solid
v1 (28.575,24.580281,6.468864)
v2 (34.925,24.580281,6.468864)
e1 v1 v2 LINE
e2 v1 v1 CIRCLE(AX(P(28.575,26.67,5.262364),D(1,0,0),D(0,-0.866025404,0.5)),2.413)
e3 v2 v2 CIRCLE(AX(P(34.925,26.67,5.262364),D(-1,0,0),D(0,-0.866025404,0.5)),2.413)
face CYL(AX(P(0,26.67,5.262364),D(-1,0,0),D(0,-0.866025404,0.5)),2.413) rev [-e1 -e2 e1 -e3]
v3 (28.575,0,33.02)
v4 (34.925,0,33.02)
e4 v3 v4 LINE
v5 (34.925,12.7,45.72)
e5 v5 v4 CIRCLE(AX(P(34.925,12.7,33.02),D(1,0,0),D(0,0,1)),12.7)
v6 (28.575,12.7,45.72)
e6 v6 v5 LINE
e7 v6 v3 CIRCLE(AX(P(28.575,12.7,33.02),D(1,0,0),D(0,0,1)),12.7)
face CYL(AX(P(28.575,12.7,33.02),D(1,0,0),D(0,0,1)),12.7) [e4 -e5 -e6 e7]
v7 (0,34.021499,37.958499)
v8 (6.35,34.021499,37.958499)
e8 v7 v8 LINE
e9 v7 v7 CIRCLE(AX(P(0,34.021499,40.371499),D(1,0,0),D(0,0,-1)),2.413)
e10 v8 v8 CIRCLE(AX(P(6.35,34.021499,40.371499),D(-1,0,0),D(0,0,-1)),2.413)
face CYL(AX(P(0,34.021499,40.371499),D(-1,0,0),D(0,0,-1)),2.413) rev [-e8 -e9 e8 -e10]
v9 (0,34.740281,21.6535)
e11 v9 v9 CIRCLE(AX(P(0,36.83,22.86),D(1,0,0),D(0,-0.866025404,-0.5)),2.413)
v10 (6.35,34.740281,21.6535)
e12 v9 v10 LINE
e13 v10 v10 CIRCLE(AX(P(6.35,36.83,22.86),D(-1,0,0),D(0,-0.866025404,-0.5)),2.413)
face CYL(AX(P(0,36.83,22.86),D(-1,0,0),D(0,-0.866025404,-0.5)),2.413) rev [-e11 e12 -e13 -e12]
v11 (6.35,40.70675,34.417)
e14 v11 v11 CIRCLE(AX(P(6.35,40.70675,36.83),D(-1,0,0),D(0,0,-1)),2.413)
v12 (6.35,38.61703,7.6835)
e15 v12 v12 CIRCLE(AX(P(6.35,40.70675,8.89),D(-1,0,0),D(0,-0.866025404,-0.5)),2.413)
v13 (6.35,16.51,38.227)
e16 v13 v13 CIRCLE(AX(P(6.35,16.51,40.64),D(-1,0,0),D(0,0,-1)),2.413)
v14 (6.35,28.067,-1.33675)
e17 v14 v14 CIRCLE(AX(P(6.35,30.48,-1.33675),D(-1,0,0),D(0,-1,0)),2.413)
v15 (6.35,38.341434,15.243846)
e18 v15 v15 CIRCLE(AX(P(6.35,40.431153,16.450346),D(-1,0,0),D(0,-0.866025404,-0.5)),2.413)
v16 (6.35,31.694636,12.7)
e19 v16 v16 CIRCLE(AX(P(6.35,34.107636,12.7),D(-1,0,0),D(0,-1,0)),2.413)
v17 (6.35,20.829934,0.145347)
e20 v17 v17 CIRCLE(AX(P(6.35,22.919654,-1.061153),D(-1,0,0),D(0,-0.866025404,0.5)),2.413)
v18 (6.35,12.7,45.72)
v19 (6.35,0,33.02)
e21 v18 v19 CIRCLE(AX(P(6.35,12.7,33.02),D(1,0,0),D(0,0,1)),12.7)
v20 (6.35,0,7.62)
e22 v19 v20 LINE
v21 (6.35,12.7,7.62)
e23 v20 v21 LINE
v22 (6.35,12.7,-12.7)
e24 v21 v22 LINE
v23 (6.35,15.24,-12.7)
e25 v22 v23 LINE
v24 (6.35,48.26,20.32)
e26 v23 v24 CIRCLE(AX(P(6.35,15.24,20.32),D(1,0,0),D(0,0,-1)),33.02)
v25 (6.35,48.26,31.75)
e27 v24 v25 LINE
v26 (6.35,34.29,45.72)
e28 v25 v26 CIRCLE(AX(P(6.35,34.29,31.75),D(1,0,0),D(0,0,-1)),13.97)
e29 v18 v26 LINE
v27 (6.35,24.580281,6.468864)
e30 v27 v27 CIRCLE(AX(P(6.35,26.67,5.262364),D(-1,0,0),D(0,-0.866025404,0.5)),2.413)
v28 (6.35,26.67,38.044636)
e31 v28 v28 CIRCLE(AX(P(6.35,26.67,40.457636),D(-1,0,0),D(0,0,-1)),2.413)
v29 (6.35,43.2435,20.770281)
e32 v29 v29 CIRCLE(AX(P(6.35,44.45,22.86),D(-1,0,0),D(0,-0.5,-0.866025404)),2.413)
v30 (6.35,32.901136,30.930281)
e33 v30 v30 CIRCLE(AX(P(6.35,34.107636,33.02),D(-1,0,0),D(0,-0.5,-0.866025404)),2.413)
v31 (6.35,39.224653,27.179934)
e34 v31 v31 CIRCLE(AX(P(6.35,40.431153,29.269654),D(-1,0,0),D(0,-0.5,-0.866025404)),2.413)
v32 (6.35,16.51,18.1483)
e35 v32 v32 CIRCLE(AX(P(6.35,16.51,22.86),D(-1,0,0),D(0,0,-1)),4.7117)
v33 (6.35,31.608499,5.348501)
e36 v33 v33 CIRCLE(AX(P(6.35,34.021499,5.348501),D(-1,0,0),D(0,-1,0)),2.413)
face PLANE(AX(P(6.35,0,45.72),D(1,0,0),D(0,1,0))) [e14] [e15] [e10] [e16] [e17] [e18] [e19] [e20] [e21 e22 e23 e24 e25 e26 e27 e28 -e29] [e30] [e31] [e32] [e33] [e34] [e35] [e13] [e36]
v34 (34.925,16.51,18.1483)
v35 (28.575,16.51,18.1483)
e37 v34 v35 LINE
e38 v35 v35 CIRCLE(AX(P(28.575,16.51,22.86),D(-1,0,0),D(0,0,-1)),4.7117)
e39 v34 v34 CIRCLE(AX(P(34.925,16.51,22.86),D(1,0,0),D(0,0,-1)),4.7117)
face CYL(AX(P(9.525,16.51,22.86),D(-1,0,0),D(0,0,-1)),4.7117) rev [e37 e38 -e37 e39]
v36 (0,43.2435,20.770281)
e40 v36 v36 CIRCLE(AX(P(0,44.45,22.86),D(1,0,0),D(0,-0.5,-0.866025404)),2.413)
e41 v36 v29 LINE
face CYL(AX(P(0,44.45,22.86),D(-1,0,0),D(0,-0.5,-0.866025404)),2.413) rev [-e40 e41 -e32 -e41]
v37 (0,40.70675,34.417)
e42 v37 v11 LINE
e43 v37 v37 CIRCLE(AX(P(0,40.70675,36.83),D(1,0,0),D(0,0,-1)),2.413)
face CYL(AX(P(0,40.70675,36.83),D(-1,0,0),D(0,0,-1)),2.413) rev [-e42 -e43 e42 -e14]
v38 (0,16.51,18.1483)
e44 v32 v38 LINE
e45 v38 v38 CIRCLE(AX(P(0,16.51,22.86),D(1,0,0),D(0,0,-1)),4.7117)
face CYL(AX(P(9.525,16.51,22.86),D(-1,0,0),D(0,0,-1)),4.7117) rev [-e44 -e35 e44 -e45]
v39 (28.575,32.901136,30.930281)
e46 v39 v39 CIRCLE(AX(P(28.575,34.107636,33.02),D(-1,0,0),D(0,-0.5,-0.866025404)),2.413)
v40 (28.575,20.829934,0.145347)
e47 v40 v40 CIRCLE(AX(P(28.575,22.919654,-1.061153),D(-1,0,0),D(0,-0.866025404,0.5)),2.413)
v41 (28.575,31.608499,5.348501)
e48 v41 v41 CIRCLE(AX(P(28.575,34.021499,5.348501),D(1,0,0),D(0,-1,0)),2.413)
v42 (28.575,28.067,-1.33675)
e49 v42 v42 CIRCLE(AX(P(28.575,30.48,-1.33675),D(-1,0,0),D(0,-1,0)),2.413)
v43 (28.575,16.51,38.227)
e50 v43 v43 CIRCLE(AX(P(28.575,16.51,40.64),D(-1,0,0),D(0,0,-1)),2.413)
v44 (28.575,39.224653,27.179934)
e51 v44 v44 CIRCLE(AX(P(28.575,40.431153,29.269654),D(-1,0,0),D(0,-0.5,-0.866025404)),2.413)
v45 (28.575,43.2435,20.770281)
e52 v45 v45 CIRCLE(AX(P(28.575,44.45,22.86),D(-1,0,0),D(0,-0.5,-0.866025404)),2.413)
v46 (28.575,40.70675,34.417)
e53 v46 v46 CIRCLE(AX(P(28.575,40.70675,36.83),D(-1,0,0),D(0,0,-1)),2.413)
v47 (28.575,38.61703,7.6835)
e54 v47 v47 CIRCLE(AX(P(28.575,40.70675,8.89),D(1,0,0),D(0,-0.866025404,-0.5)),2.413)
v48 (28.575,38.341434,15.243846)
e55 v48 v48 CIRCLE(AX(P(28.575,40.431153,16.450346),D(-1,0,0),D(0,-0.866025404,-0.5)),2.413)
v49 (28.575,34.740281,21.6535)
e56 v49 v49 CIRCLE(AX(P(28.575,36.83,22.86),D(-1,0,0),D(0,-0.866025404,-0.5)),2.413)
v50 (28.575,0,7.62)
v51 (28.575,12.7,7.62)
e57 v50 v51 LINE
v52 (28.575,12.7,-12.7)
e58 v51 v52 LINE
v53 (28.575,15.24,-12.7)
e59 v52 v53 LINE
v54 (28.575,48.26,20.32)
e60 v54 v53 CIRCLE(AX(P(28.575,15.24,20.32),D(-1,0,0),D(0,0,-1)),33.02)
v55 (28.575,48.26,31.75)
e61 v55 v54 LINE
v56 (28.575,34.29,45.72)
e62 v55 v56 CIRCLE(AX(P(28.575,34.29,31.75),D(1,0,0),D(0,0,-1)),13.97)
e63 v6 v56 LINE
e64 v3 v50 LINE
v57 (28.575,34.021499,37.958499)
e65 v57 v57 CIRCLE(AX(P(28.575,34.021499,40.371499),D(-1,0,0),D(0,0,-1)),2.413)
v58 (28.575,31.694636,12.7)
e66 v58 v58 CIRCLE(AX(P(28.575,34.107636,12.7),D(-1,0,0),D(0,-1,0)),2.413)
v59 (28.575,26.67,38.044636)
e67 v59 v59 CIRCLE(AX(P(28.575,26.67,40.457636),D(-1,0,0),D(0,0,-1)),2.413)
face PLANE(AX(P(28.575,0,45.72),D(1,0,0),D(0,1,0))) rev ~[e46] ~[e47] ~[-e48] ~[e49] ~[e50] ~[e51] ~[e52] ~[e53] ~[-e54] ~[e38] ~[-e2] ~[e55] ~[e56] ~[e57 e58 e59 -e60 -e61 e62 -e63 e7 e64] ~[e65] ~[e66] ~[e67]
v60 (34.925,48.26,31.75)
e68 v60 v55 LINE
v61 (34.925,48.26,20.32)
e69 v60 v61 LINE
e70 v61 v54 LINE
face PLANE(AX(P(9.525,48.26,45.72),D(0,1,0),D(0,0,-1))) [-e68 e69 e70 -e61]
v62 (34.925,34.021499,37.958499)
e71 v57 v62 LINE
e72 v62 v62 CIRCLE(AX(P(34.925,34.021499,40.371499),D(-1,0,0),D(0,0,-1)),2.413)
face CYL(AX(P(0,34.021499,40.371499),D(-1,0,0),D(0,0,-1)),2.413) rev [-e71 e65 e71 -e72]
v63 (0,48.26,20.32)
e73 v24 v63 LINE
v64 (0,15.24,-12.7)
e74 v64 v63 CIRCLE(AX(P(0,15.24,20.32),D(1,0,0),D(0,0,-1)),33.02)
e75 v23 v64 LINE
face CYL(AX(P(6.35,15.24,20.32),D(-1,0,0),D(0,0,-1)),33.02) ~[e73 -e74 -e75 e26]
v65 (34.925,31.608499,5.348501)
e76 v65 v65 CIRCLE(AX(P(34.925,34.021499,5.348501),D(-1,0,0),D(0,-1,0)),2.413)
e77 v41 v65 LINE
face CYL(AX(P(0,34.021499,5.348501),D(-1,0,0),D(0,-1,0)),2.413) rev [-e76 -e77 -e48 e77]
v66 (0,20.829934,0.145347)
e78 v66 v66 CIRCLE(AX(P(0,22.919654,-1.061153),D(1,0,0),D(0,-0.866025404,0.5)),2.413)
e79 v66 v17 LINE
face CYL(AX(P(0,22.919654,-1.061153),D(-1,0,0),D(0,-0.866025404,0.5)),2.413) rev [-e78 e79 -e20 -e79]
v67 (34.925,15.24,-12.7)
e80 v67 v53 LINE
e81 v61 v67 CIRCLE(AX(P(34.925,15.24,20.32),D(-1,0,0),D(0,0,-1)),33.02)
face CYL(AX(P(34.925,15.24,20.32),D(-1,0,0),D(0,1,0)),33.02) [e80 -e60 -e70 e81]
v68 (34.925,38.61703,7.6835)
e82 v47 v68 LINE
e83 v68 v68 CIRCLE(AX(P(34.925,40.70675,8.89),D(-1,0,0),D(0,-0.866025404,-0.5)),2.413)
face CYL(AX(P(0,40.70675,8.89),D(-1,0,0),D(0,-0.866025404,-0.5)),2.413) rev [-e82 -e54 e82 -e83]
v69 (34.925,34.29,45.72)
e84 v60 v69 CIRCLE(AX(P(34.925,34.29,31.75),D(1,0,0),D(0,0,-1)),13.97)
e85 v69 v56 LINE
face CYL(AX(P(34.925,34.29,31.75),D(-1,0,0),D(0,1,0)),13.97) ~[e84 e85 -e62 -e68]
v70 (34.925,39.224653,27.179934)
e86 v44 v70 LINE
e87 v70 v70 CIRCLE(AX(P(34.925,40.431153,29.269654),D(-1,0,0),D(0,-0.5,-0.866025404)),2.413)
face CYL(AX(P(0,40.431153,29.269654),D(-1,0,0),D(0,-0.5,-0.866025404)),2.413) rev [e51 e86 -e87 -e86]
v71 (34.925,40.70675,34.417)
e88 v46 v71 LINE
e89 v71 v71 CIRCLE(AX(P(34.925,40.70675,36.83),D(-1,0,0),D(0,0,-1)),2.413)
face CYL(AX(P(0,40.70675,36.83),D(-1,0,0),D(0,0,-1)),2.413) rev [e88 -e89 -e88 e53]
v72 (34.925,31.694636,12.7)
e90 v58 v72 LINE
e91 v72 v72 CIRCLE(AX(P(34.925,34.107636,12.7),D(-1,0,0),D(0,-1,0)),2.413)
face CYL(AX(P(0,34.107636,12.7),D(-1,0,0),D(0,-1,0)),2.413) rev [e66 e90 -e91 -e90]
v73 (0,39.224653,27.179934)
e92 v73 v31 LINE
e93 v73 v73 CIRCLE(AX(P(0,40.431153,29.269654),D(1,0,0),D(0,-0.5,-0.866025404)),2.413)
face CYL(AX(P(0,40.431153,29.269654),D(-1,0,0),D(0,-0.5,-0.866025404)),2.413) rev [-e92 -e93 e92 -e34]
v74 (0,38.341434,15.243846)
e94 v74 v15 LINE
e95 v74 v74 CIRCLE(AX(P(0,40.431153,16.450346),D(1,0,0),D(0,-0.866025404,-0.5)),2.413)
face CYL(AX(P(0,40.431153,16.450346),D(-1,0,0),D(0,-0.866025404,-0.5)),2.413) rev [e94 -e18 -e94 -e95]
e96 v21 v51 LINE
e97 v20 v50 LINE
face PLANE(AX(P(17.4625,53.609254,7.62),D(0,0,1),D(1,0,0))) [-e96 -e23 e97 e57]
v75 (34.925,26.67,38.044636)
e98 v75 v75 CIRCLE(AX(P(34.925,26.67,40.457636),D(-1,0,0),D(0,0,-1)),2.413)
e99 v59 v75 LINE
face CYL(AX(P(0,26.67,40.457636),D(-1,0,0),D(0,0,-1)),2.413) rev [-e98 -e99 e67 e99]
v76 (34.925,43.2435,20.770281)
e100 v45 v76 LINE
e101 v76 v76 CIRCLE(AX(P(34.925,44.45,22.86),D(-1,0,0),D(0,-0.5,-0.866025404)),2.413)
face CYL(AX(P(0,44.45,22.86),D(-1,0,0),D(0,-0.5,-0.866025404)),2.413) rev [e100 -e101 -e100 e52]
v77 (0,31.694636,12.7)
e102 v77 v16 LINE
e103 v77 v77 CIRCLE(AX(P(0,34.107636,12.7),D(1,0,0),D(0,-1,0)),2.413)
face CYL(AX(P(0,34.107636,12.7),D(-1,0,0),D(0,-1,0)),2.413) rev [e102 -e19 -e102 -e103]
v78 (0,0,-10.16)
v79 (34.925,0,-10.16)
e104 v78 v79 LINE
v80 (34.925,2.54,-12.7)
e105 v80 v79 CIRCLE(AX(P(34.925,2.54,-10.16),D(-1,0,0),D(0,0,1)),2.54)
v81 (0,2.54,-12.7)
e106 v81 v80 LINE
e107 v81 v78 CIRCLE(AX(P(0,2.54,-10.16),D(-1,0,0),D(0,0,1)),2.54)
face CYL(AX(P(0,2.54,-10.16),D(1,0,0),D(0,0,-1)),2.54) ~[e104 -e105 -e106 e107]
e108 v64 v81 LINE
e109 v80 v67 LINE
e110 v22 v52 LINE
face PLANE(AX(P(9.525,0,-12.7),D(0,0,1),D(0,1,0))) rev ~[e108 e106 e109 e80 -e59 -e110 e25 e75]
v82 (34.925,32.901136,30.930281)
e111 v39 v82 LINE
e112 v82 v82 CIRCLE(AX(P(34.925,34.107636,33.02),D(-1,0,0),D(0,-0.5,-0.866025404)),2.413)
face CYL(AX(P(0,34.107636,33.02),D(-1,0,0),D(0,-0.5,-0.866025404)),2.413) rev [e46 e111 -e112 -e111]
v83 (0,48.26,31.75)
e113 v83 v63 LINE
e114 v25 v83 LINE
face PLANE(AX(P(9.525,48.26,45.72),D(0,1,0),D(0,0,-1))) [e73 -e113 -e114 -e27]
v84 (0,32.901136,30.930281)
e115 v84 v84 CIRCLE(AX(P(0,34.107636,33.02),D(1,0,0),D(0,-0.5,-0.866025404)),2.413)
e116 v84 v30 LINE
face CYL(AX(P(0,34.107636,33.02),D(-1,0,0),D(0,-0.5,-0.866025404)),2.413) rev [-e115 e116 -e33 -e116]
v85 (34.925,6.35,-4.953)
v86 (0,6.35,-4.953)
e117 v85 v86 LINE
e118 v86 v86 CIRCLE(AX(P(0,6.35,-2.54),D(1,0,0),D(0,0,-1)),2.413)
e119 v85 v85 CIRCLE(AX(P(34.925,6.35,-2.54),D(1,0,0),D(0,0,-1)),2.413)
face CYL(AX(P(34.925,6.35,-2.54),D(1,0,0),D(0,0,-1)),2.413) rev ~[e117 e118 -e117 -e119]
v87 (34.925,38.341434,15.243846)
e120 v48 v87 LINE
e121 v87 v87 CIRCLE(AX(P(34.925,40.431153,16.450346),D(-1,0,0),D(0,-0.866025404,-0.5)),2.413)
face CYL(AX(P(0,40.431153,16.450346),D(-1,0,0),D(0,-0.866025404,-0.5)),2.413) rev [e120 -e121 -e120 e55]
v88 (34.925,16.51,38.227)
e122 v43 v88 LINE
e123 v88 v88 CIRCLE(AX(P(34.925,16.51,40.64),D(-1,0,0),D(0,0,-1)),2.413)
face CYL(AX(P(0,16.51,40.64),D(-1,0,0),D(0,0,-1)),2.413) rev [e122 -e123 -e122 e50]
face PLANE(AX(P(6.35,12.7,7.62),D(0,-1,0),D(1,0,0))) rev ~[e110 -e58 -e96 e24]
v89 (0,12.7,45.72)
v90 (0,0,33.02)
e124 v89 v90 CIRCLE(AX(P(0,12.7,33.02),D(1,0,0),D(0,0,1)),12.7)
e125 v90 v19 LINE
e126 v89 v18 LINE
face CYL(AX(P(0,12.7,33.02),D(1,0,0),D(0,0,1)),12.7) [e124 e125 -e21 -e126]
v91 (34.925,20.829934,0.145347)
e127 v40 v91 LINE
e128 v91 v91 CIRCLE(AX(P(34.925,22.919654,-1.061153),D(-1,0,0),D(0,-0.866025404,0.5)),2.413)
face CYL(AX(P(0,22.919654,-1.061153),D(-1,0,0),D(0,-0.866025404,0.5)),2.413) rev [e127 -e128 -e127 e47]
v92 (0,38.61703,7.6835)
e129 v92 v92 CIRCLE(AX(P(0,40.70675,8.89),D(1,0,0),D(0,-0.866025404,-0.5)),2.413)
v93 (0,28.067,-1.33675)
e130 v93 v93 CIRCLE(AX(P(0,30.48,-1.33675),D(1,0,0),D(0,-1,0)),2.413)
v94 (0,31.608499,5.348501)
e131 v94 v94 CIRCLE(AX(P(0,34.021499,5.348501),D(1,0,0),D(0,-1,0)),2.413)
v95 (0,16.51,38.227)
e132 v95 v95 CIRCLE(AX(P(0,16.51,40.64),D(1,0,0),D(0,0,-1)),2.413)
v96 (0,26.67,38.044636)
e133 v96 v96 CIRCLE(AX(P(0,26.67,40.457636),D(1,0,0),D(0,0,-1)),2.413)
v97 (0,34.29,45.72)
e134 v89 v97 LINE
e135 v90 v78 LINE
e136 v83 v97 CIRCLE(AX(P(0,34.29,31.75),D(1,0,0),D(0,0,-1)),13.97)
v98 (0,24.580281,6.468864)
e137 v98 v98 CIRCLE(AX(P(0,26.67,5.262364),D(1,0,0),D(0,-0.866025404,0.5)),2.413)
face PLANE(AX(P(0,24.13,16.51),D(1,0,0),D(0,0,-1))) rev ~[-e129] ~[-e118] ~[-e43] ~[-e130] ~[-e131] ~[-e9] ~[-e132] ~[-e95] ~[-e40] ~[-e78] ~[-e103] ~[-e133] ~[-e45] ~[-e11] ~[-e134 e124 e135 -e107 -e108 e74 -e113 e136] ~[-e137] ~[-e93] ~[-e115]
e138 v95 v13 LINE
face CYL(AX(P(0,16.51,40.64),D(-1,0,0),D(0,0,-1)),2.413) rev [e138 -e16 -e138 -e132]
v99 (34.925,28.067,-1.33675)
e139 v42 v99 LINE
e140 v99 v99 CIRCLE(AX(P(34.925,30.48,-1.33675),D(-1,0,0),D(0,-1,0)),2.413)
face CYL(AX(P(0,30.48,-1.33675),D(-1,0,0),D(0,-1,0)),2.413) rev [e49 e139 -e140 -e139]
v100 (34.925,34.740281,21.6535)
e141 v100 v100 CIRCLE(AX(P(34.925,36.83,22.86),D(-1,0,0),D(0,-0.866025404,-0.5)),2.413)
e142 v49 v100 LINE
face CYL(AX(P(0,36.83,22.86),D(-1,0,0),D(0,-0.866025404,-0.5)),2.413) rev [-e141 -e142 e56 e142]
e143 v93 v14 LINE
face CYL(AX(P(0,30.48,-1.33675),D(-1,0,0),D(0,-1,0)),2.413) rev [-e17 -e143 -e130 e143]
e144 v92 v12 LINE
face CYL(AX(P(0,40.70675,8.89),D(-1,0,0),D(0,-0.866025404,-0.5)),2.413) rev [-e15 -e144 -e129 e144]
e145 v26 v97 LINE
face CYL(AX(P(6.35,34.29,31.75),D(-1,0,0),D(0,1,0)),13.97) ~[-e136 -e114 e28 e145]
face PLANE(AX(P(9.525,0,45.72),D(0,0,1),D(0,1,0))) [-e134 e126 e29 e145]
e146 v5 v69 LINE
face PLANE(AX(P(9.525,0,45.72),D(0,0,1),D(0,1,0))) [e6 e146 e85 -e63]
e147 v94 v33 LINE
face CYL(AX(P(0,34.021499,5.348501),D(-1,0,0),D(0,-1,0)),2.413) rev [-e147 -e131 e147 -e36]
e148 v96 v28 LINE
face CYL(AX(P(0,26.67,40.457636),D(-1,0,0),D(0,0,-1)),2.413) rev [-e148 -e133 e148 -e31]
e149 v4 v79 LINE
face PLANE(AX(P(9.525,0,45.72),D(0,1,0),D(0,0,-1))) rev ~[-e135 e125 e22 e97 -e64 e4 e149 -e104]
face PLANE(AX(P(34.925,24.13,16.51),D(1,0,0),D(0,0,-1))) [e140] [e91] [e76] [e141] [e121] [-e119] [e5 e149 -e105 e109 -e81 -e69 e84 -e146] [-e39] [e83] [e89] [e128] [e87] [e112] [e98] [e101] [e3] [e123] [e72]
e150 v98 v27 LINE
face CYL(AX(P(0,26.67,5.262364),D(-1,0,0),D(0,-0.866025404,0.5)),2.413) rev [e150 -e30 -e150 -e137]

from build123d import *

# Parameters (mm, degrees)
CENTER_MC_BODY_DEPTH           = 9.525
SKETCH2_R                      = 3.9624
CENTER_MC_HOLE_DEPTH           = 9.525
SKETCH3_W                      = 19.05
SKETCH3_H                      = 6.35
SKETCH3_W_2                    = 25.4
CUT_SLOT_DEPTH                 = 9.525
FILLET1_R                      = 12.7
FILLET2_R                      = 12.7
SKETCH12_W                     = 99.695
SKETCH12_H                     = 25.4
CUT_EXTRUDE2_DEPTH             = 10.5250001
BOSS_EXTRUDE1_DEPTH            = 9.525
FILLET3_R                      = 3.175
SKETCH14_W                     = 22.86
SKETCH14_H                     = 27.94
SKETCH14_R                     = 4.7117
BOSS_EXTRUDE2_DEPTH            = 9.525
SKETCH16_W                     = 53.975
SKETCH16_H                     = 15.24
CUT_FOR_THROTTLE_N_BRAKE_DEPTH = 9.525
SKETCH17_W                     = 58.42
SKETCH17_H                     = 48.26
SKETCH17_R                     = 4.7117
BOSS_EXTRUDE3_DEPTH            = 9.525
SKETCH44_W                     = 58.42
SKETCH44_H                     = 48.26
SKETCH44_R                     = 4.7117
BOSS_EXTRUDE4_DEPTH            = 25.4
SKETCH20_R                     = 2.413
CUT_EXTRUDE6_DEPTH             = 35.925
SKETCH21_R                     = 2.413
CUT_EXTRUDE7_DEPTH             = 35.925
CIRPATTERN2_COUNT              = 5
CIRPATTERN2_ANGLE              = 120
SKETCH22_R                     = 2.413
CUT_EXTRUDE10_DEPTH            = 35.925
CIRPATTERN3_COUNT              = 5
CIRPATTERN3_ANGLE              = 120
SKETCH24_R                     = 2.413
CUT_EXTRUDE11_DEPTH            = 35.925
CIRPATTERN4_COUNT              = 4
CIRPATTERN4_ANGLE              = 90
SKETCH48_W                     = 22.225
SKETCH48_H                     = 107.218507126
CUT_EXTRUDE24_DEPTH            = 38.1
SKETCH49_W                     = 22.225
SKETCH49_H                     = 35.56
CUT_EXTRUDE25_DEPTH            = 21.32
FILLET4_R                      = 12.7
FILLET5_R                      = 33.02
FILLET6_R                      = 13.97
SKETCH53_R                     = 2.413
CUT_EXTRUDE29_DEPTH            = 35.925
FILLET7_R                      = 2.54


with BuildPart() as part:
    # Sketch1 → Center MC Body (new body)
    with BuildSketch(Plane(origin=(0, 0, 0), x_dir=(0, 0, -1), z_dir=(1, 0, 0))):
        with BuildLine():
            Line((-12.7, 0), (-12.7, 15.24))
            Line((-12.7, 15.24), (138.43, 15.24))
            Line((138.43, 15.24), (138.43, 16.51))
            ThreePointArc((138.43, 16.51), (147.32, 25.4), (156.21, 16.51))
            Line((156.21, 16.51), (156.21, 0))
            Line((156.21, 0), (-12.7, 0))
        make_face()
    extrude(amount=CENTER_MC_BODY_DEPTH)

    # Sketch2 → Center MC Hole (cut)
    with BuildSketch(Plane(origin=(0, 0, 0), x_dir=(0, 0, -1), z_dir=(1, 0, 0))):
        with Locations((147.32, 16.51)):
            Circle(SKETCH2_R)
    extrude(amount=CENTER_MC_HOLE_DEPTH, mode=Mode.SUBTRACT)

    # Sketch3 → Cut Slot (cut)
    with BuildSketch(Plane(origin=(0, 0, 0), x_dir=(0, 0, -1), z_dir=(1, 0, 0))):
        with Locations((3.175, 12.065)):
            Rectangle(SKETCH3_W, SKETCH3_H)
        with Locations((56.515, 12.065)):
            Rectangle(SKETCH3_W_2, SKETCH3_H)
    extrude(amount=CUT_SLOT_DEPTH, mode=Mode.SUBTRACT)

    # Fillet1
    fillet1_edges = [part.edges().sort_by_distance(p)[0] for p in [
        (4.7625, 0, -156.21),
    ]]
    fillet(fillet1_edges, radius=FILLET1_R)

    # Fillet2
    fillet2_edges = [part.edges().sort_by_distance(p)[0] for p in [
        (4.7625, 15.24, -138.43),
    ]]
    fillet(fillet2_edges, radius=FILLET2_R)

    # Sketch12 → Cut-Extrude2 (cut, through all)
    with BuildSketch(Plane(origin=(0, 0, 0), x_dir=(0, 0, -1), z_dir=(1, 0, 0))):
        with Locations((106.3625, 12.7)):
            Rectangle(SKETCH12_W, SKETCH12_H)
    extrude(amount=CUT_EXTRUDE2_DEPTH, mode=Mode.SUBTRACT)

    # Sketch13 → Boss-Extrude1 (add)
    with BuildSketch(Plane(origin=(0, 0, 0), x_dir=(0, 0, -1), z_dir=(1, 0, 0))):
        Polygon((43.815, 15.24), (50.165, 15.24), (50.165, 8.89), (62.865, 8.89), (62.865, 15.24), (66.675, 15.24), (66.675, 0), (43.815, 0), align=None)
    extrude(amount=BOSS_EXTRUDE1_DEPTH)

    # Fillet3
    fillet3_edges = [part.edges().sort_by_distance(p)[0] for p in [
        (4.7625, 15.24, -66.675),
        (4.7625, 0, -66.675),
    ]]
    fillet(fillet3_edges, radius=FILLET3_R)

    # Sketch14 → Boss-Extrude2 (add)
    with BuildSketch(Plane(origin=(0, 0, 0), x_dir=(0, 0, -1), z_dir=(1, 0, 0))):
        with Locations((-24.13, 13.97)):
            Rectangle(SKETCH14_W, SKETCH14_H)
        with Locations((-22.86, 16.51)):
            Circle(SKETCH14_R, mode=Mode.SUBTRACT)
    extrude(amount=BOSS_EXTRUDE2_DEPTH)

    # Sketch16 → Cut for Throttle n Brake (cut)
    with BuildSketch(Plane(origin=(0, 0, 0), x_dir=(0, 0, -1), z_dir=(1, 0, 0))):
        with Locations((39.6875, 7.62)):
            Rectangle(SKETCH16_W, SKETCH16_H)
    extrude(amount=CUT_FOR_THROTTLE_N_BRAKE_DEPTH, mode=Mode.SUBTRACT)

    # Sketch17 → Boss-Extrude3 (add)
    with BuildSketch(Plane(origin=(0, 0, 0), x_dir=(0, 0, -1), z_dir=(1, 0, 0))):
        with Locations((-16.51, 24.13)):
            Rectangle(SKETCH17_W, SKETCH17_H)
        with Locations((-22.86, 16.51)):
            Circle(SKETCH17_R, mode=Mode.SUBTRACT)
    extrude(amount=BOSS_EXTRUDE3_DEPTH)

    # Sketch44 → Boss-Extrude4 (add)
    with BuildSketch(Plane(origin=(9.525, 0, 0), x_dir=(0, 0, -1), z_dir=(1, 0, 0))):
        with Locations((-16.51, 24.13)):
            Rectangle(SKETCH44_W, SKETCH44_H)
        with Locations((-22.86, 16.51)):
            Circle(SKETCH44_R, mode=Mode.SUBTRACT)
    extrude(amount=BOSS_EXTRUDE4_DEPTH)

    # Sketch20 → Cut-Extrude6 (cut, through all)
    with BuildSketch(Plane(origin=(0, 0, 0), x_dir=(0, 0, -1), z_dir=(1, 0, 0))):
        with Locations((-40.64, 16.51)):
            Circle(SKETCH20_R)
    extrude(amount=CUT_EXTRUDE6_DEPTH, mode=Mode.SUBTRACT)

    # Sketch21 → Cut-Extrude7 (cut, through all)
    with BuildSketch(Plane(origin=(0, 0, 0), x_dir=(0, 0, -1), z_dir=(1, 0, 0))):
        with Locations((-40.457636205, 26.67)):
            Circle(SKETCH21_R)
    cut_extrude7 = extrude(amount=CUT_EXTRUDE7_DEPTH, mode=Mode.SUBTRACT)

    # CirPattern2: Cut-Extrude7 ×5 about axis
    cirpattern2_axis = Axis((0, 16.51, 22.86), (-1, 0, 0))
    for i in range(1, CIRPATTERN2_COUNT):
        add(cut_extrude7.rotate(cirpattern2_axis, i * CIRPATTERN2_ANGLE / (CIRPATTERN2_COUNT - 1)), mode=Mode.SUBTRACT)

    # Sketch22 → Cut-Extrude10 (cut, through all)
    with BuildSketch(Plane(origin=(0, 0, 0), x_dir=(0, 0, -1), z_dir=(1, 0, 0))):
        with Locations((-40.371499436, 34.021499436)):
            Circle(SKETCH22_R)
    cut_extrude10 = extrude(amount=CUT_EXTRUDE10_DEPTH, mode=Mode.SUBTRACT)

    # CirPattern3: Cut-Extrude10 ×5 about axis
    cirpattern3_axis = Axis((0, 16.51, 22.86), (-1, 0, 0))
    for i in range(1, CIRPATTERN3_COUNT):
        add(cut_extrude10.rotate(cirpattern3_axis, i * CIRPATTERN3_ANGLE / (CIRPATTERN3_COUNT - 1)), mode=Mode.SUBTRACT)

    # Sketch24 → Cut-Extrude11 (cut, through all)
    with BuildSketch(Plane(origin=(0, 0, 0), x_dir=(0, 0, -1), z_dir=(1, 0, 0))):
        with Locations((-36.83, 40.706749782)):
            Circle(SKETCH24_R)
    cut_extrude11 = extrude(amount=CUT_EXTRUDE11_DEPTH, mode=Mode.SUBTRACT)

    # CirPattern4: Cut-Extrude11 ×4 about axis
    cirpattern4_axis = Axis((0, 16.51, 22.86), (-1, 0, 0))
    for i in range(1, CIRPATTERN4_COUNT):
        add(cut_extrude11.rotate(cirpattern4_axis, i * CIRPATTERN4_ANGLE / (CIRPATTERN4_COUNT - 1)), mode=Mode.SUBTRACT)

    # Sketch48 → Cut-Extrude24 (cut)
    with BuildSketch(Plane.XY.offset(45.72)):
        with Locations((17.4625, 53.609253563)):
            Rectangle(SKETCH48_W, SKETCH48_H)
    extrude(amount=-CUT_EXTRUDE24_DEPTH, mode=Mode.SUBTRACT)

    # Sketch49 → Cut-Extrude25 (cut, through all)
    with BuildSketch(Plane.XY.offset(7.62)):
        with Locations((17.4625, 30.48)):
            Rectangle(SKETCH49_W, SKETCH49_H)
    extrude(amount=-CUT_EXTRUDE25_DEPTH, mode=Mode.SUBTRACT)

    # Fillet4
    fillet4_edges = [part.edges().sort_by_distance(p)[0] for p in [
        (31.75, 0, 45.72),
        (3.175, 0, 45.72),
    ]]
    fillet(fillet4_edges, radius=FILLET4_R)

    # Fillet5
    fillet5_edges = [part.edges().sort_by_distance(p)[0] for p in [
        (31.75, 48.26, -12.7),
        (3.175, 48.26, -12.7),
    ]]
    fillet(fillet5_edges, radius=FILLET5_R)

    # Fillet6
    fillet6_edges = [part.edges().sort_by_distance(p)[0] for p in [
        (31.75, 48.26, 45.72),
        (3.175, 48.26, 45.72),
    ]]
    fillet(fillet6_edges, radius=FILLET6_R)

    # Sketch53 → Cut-Extrude29 (cut, through all)
    with BuildSketch(Plane(origin=(34.925, 0, 0), x_dir=(0, 0, -1), z_dir=(1, 0, 0))):
        with Locations((2.54, 6.35)):
            Circle(SKETCH53_R)
    extrude(amount=-CUT_EXTRUDE29_DEPTH, mode=Mode.SUBTRACT)

    # Fillet7
    fillet7_edges = [part.edges().sort_by_distance(p)[0] for p in [
        (17.4625, 0, -12.7),
    ]]
    fillet(fillet7_edges, radius=FILLET7_R)


solid = part.part
